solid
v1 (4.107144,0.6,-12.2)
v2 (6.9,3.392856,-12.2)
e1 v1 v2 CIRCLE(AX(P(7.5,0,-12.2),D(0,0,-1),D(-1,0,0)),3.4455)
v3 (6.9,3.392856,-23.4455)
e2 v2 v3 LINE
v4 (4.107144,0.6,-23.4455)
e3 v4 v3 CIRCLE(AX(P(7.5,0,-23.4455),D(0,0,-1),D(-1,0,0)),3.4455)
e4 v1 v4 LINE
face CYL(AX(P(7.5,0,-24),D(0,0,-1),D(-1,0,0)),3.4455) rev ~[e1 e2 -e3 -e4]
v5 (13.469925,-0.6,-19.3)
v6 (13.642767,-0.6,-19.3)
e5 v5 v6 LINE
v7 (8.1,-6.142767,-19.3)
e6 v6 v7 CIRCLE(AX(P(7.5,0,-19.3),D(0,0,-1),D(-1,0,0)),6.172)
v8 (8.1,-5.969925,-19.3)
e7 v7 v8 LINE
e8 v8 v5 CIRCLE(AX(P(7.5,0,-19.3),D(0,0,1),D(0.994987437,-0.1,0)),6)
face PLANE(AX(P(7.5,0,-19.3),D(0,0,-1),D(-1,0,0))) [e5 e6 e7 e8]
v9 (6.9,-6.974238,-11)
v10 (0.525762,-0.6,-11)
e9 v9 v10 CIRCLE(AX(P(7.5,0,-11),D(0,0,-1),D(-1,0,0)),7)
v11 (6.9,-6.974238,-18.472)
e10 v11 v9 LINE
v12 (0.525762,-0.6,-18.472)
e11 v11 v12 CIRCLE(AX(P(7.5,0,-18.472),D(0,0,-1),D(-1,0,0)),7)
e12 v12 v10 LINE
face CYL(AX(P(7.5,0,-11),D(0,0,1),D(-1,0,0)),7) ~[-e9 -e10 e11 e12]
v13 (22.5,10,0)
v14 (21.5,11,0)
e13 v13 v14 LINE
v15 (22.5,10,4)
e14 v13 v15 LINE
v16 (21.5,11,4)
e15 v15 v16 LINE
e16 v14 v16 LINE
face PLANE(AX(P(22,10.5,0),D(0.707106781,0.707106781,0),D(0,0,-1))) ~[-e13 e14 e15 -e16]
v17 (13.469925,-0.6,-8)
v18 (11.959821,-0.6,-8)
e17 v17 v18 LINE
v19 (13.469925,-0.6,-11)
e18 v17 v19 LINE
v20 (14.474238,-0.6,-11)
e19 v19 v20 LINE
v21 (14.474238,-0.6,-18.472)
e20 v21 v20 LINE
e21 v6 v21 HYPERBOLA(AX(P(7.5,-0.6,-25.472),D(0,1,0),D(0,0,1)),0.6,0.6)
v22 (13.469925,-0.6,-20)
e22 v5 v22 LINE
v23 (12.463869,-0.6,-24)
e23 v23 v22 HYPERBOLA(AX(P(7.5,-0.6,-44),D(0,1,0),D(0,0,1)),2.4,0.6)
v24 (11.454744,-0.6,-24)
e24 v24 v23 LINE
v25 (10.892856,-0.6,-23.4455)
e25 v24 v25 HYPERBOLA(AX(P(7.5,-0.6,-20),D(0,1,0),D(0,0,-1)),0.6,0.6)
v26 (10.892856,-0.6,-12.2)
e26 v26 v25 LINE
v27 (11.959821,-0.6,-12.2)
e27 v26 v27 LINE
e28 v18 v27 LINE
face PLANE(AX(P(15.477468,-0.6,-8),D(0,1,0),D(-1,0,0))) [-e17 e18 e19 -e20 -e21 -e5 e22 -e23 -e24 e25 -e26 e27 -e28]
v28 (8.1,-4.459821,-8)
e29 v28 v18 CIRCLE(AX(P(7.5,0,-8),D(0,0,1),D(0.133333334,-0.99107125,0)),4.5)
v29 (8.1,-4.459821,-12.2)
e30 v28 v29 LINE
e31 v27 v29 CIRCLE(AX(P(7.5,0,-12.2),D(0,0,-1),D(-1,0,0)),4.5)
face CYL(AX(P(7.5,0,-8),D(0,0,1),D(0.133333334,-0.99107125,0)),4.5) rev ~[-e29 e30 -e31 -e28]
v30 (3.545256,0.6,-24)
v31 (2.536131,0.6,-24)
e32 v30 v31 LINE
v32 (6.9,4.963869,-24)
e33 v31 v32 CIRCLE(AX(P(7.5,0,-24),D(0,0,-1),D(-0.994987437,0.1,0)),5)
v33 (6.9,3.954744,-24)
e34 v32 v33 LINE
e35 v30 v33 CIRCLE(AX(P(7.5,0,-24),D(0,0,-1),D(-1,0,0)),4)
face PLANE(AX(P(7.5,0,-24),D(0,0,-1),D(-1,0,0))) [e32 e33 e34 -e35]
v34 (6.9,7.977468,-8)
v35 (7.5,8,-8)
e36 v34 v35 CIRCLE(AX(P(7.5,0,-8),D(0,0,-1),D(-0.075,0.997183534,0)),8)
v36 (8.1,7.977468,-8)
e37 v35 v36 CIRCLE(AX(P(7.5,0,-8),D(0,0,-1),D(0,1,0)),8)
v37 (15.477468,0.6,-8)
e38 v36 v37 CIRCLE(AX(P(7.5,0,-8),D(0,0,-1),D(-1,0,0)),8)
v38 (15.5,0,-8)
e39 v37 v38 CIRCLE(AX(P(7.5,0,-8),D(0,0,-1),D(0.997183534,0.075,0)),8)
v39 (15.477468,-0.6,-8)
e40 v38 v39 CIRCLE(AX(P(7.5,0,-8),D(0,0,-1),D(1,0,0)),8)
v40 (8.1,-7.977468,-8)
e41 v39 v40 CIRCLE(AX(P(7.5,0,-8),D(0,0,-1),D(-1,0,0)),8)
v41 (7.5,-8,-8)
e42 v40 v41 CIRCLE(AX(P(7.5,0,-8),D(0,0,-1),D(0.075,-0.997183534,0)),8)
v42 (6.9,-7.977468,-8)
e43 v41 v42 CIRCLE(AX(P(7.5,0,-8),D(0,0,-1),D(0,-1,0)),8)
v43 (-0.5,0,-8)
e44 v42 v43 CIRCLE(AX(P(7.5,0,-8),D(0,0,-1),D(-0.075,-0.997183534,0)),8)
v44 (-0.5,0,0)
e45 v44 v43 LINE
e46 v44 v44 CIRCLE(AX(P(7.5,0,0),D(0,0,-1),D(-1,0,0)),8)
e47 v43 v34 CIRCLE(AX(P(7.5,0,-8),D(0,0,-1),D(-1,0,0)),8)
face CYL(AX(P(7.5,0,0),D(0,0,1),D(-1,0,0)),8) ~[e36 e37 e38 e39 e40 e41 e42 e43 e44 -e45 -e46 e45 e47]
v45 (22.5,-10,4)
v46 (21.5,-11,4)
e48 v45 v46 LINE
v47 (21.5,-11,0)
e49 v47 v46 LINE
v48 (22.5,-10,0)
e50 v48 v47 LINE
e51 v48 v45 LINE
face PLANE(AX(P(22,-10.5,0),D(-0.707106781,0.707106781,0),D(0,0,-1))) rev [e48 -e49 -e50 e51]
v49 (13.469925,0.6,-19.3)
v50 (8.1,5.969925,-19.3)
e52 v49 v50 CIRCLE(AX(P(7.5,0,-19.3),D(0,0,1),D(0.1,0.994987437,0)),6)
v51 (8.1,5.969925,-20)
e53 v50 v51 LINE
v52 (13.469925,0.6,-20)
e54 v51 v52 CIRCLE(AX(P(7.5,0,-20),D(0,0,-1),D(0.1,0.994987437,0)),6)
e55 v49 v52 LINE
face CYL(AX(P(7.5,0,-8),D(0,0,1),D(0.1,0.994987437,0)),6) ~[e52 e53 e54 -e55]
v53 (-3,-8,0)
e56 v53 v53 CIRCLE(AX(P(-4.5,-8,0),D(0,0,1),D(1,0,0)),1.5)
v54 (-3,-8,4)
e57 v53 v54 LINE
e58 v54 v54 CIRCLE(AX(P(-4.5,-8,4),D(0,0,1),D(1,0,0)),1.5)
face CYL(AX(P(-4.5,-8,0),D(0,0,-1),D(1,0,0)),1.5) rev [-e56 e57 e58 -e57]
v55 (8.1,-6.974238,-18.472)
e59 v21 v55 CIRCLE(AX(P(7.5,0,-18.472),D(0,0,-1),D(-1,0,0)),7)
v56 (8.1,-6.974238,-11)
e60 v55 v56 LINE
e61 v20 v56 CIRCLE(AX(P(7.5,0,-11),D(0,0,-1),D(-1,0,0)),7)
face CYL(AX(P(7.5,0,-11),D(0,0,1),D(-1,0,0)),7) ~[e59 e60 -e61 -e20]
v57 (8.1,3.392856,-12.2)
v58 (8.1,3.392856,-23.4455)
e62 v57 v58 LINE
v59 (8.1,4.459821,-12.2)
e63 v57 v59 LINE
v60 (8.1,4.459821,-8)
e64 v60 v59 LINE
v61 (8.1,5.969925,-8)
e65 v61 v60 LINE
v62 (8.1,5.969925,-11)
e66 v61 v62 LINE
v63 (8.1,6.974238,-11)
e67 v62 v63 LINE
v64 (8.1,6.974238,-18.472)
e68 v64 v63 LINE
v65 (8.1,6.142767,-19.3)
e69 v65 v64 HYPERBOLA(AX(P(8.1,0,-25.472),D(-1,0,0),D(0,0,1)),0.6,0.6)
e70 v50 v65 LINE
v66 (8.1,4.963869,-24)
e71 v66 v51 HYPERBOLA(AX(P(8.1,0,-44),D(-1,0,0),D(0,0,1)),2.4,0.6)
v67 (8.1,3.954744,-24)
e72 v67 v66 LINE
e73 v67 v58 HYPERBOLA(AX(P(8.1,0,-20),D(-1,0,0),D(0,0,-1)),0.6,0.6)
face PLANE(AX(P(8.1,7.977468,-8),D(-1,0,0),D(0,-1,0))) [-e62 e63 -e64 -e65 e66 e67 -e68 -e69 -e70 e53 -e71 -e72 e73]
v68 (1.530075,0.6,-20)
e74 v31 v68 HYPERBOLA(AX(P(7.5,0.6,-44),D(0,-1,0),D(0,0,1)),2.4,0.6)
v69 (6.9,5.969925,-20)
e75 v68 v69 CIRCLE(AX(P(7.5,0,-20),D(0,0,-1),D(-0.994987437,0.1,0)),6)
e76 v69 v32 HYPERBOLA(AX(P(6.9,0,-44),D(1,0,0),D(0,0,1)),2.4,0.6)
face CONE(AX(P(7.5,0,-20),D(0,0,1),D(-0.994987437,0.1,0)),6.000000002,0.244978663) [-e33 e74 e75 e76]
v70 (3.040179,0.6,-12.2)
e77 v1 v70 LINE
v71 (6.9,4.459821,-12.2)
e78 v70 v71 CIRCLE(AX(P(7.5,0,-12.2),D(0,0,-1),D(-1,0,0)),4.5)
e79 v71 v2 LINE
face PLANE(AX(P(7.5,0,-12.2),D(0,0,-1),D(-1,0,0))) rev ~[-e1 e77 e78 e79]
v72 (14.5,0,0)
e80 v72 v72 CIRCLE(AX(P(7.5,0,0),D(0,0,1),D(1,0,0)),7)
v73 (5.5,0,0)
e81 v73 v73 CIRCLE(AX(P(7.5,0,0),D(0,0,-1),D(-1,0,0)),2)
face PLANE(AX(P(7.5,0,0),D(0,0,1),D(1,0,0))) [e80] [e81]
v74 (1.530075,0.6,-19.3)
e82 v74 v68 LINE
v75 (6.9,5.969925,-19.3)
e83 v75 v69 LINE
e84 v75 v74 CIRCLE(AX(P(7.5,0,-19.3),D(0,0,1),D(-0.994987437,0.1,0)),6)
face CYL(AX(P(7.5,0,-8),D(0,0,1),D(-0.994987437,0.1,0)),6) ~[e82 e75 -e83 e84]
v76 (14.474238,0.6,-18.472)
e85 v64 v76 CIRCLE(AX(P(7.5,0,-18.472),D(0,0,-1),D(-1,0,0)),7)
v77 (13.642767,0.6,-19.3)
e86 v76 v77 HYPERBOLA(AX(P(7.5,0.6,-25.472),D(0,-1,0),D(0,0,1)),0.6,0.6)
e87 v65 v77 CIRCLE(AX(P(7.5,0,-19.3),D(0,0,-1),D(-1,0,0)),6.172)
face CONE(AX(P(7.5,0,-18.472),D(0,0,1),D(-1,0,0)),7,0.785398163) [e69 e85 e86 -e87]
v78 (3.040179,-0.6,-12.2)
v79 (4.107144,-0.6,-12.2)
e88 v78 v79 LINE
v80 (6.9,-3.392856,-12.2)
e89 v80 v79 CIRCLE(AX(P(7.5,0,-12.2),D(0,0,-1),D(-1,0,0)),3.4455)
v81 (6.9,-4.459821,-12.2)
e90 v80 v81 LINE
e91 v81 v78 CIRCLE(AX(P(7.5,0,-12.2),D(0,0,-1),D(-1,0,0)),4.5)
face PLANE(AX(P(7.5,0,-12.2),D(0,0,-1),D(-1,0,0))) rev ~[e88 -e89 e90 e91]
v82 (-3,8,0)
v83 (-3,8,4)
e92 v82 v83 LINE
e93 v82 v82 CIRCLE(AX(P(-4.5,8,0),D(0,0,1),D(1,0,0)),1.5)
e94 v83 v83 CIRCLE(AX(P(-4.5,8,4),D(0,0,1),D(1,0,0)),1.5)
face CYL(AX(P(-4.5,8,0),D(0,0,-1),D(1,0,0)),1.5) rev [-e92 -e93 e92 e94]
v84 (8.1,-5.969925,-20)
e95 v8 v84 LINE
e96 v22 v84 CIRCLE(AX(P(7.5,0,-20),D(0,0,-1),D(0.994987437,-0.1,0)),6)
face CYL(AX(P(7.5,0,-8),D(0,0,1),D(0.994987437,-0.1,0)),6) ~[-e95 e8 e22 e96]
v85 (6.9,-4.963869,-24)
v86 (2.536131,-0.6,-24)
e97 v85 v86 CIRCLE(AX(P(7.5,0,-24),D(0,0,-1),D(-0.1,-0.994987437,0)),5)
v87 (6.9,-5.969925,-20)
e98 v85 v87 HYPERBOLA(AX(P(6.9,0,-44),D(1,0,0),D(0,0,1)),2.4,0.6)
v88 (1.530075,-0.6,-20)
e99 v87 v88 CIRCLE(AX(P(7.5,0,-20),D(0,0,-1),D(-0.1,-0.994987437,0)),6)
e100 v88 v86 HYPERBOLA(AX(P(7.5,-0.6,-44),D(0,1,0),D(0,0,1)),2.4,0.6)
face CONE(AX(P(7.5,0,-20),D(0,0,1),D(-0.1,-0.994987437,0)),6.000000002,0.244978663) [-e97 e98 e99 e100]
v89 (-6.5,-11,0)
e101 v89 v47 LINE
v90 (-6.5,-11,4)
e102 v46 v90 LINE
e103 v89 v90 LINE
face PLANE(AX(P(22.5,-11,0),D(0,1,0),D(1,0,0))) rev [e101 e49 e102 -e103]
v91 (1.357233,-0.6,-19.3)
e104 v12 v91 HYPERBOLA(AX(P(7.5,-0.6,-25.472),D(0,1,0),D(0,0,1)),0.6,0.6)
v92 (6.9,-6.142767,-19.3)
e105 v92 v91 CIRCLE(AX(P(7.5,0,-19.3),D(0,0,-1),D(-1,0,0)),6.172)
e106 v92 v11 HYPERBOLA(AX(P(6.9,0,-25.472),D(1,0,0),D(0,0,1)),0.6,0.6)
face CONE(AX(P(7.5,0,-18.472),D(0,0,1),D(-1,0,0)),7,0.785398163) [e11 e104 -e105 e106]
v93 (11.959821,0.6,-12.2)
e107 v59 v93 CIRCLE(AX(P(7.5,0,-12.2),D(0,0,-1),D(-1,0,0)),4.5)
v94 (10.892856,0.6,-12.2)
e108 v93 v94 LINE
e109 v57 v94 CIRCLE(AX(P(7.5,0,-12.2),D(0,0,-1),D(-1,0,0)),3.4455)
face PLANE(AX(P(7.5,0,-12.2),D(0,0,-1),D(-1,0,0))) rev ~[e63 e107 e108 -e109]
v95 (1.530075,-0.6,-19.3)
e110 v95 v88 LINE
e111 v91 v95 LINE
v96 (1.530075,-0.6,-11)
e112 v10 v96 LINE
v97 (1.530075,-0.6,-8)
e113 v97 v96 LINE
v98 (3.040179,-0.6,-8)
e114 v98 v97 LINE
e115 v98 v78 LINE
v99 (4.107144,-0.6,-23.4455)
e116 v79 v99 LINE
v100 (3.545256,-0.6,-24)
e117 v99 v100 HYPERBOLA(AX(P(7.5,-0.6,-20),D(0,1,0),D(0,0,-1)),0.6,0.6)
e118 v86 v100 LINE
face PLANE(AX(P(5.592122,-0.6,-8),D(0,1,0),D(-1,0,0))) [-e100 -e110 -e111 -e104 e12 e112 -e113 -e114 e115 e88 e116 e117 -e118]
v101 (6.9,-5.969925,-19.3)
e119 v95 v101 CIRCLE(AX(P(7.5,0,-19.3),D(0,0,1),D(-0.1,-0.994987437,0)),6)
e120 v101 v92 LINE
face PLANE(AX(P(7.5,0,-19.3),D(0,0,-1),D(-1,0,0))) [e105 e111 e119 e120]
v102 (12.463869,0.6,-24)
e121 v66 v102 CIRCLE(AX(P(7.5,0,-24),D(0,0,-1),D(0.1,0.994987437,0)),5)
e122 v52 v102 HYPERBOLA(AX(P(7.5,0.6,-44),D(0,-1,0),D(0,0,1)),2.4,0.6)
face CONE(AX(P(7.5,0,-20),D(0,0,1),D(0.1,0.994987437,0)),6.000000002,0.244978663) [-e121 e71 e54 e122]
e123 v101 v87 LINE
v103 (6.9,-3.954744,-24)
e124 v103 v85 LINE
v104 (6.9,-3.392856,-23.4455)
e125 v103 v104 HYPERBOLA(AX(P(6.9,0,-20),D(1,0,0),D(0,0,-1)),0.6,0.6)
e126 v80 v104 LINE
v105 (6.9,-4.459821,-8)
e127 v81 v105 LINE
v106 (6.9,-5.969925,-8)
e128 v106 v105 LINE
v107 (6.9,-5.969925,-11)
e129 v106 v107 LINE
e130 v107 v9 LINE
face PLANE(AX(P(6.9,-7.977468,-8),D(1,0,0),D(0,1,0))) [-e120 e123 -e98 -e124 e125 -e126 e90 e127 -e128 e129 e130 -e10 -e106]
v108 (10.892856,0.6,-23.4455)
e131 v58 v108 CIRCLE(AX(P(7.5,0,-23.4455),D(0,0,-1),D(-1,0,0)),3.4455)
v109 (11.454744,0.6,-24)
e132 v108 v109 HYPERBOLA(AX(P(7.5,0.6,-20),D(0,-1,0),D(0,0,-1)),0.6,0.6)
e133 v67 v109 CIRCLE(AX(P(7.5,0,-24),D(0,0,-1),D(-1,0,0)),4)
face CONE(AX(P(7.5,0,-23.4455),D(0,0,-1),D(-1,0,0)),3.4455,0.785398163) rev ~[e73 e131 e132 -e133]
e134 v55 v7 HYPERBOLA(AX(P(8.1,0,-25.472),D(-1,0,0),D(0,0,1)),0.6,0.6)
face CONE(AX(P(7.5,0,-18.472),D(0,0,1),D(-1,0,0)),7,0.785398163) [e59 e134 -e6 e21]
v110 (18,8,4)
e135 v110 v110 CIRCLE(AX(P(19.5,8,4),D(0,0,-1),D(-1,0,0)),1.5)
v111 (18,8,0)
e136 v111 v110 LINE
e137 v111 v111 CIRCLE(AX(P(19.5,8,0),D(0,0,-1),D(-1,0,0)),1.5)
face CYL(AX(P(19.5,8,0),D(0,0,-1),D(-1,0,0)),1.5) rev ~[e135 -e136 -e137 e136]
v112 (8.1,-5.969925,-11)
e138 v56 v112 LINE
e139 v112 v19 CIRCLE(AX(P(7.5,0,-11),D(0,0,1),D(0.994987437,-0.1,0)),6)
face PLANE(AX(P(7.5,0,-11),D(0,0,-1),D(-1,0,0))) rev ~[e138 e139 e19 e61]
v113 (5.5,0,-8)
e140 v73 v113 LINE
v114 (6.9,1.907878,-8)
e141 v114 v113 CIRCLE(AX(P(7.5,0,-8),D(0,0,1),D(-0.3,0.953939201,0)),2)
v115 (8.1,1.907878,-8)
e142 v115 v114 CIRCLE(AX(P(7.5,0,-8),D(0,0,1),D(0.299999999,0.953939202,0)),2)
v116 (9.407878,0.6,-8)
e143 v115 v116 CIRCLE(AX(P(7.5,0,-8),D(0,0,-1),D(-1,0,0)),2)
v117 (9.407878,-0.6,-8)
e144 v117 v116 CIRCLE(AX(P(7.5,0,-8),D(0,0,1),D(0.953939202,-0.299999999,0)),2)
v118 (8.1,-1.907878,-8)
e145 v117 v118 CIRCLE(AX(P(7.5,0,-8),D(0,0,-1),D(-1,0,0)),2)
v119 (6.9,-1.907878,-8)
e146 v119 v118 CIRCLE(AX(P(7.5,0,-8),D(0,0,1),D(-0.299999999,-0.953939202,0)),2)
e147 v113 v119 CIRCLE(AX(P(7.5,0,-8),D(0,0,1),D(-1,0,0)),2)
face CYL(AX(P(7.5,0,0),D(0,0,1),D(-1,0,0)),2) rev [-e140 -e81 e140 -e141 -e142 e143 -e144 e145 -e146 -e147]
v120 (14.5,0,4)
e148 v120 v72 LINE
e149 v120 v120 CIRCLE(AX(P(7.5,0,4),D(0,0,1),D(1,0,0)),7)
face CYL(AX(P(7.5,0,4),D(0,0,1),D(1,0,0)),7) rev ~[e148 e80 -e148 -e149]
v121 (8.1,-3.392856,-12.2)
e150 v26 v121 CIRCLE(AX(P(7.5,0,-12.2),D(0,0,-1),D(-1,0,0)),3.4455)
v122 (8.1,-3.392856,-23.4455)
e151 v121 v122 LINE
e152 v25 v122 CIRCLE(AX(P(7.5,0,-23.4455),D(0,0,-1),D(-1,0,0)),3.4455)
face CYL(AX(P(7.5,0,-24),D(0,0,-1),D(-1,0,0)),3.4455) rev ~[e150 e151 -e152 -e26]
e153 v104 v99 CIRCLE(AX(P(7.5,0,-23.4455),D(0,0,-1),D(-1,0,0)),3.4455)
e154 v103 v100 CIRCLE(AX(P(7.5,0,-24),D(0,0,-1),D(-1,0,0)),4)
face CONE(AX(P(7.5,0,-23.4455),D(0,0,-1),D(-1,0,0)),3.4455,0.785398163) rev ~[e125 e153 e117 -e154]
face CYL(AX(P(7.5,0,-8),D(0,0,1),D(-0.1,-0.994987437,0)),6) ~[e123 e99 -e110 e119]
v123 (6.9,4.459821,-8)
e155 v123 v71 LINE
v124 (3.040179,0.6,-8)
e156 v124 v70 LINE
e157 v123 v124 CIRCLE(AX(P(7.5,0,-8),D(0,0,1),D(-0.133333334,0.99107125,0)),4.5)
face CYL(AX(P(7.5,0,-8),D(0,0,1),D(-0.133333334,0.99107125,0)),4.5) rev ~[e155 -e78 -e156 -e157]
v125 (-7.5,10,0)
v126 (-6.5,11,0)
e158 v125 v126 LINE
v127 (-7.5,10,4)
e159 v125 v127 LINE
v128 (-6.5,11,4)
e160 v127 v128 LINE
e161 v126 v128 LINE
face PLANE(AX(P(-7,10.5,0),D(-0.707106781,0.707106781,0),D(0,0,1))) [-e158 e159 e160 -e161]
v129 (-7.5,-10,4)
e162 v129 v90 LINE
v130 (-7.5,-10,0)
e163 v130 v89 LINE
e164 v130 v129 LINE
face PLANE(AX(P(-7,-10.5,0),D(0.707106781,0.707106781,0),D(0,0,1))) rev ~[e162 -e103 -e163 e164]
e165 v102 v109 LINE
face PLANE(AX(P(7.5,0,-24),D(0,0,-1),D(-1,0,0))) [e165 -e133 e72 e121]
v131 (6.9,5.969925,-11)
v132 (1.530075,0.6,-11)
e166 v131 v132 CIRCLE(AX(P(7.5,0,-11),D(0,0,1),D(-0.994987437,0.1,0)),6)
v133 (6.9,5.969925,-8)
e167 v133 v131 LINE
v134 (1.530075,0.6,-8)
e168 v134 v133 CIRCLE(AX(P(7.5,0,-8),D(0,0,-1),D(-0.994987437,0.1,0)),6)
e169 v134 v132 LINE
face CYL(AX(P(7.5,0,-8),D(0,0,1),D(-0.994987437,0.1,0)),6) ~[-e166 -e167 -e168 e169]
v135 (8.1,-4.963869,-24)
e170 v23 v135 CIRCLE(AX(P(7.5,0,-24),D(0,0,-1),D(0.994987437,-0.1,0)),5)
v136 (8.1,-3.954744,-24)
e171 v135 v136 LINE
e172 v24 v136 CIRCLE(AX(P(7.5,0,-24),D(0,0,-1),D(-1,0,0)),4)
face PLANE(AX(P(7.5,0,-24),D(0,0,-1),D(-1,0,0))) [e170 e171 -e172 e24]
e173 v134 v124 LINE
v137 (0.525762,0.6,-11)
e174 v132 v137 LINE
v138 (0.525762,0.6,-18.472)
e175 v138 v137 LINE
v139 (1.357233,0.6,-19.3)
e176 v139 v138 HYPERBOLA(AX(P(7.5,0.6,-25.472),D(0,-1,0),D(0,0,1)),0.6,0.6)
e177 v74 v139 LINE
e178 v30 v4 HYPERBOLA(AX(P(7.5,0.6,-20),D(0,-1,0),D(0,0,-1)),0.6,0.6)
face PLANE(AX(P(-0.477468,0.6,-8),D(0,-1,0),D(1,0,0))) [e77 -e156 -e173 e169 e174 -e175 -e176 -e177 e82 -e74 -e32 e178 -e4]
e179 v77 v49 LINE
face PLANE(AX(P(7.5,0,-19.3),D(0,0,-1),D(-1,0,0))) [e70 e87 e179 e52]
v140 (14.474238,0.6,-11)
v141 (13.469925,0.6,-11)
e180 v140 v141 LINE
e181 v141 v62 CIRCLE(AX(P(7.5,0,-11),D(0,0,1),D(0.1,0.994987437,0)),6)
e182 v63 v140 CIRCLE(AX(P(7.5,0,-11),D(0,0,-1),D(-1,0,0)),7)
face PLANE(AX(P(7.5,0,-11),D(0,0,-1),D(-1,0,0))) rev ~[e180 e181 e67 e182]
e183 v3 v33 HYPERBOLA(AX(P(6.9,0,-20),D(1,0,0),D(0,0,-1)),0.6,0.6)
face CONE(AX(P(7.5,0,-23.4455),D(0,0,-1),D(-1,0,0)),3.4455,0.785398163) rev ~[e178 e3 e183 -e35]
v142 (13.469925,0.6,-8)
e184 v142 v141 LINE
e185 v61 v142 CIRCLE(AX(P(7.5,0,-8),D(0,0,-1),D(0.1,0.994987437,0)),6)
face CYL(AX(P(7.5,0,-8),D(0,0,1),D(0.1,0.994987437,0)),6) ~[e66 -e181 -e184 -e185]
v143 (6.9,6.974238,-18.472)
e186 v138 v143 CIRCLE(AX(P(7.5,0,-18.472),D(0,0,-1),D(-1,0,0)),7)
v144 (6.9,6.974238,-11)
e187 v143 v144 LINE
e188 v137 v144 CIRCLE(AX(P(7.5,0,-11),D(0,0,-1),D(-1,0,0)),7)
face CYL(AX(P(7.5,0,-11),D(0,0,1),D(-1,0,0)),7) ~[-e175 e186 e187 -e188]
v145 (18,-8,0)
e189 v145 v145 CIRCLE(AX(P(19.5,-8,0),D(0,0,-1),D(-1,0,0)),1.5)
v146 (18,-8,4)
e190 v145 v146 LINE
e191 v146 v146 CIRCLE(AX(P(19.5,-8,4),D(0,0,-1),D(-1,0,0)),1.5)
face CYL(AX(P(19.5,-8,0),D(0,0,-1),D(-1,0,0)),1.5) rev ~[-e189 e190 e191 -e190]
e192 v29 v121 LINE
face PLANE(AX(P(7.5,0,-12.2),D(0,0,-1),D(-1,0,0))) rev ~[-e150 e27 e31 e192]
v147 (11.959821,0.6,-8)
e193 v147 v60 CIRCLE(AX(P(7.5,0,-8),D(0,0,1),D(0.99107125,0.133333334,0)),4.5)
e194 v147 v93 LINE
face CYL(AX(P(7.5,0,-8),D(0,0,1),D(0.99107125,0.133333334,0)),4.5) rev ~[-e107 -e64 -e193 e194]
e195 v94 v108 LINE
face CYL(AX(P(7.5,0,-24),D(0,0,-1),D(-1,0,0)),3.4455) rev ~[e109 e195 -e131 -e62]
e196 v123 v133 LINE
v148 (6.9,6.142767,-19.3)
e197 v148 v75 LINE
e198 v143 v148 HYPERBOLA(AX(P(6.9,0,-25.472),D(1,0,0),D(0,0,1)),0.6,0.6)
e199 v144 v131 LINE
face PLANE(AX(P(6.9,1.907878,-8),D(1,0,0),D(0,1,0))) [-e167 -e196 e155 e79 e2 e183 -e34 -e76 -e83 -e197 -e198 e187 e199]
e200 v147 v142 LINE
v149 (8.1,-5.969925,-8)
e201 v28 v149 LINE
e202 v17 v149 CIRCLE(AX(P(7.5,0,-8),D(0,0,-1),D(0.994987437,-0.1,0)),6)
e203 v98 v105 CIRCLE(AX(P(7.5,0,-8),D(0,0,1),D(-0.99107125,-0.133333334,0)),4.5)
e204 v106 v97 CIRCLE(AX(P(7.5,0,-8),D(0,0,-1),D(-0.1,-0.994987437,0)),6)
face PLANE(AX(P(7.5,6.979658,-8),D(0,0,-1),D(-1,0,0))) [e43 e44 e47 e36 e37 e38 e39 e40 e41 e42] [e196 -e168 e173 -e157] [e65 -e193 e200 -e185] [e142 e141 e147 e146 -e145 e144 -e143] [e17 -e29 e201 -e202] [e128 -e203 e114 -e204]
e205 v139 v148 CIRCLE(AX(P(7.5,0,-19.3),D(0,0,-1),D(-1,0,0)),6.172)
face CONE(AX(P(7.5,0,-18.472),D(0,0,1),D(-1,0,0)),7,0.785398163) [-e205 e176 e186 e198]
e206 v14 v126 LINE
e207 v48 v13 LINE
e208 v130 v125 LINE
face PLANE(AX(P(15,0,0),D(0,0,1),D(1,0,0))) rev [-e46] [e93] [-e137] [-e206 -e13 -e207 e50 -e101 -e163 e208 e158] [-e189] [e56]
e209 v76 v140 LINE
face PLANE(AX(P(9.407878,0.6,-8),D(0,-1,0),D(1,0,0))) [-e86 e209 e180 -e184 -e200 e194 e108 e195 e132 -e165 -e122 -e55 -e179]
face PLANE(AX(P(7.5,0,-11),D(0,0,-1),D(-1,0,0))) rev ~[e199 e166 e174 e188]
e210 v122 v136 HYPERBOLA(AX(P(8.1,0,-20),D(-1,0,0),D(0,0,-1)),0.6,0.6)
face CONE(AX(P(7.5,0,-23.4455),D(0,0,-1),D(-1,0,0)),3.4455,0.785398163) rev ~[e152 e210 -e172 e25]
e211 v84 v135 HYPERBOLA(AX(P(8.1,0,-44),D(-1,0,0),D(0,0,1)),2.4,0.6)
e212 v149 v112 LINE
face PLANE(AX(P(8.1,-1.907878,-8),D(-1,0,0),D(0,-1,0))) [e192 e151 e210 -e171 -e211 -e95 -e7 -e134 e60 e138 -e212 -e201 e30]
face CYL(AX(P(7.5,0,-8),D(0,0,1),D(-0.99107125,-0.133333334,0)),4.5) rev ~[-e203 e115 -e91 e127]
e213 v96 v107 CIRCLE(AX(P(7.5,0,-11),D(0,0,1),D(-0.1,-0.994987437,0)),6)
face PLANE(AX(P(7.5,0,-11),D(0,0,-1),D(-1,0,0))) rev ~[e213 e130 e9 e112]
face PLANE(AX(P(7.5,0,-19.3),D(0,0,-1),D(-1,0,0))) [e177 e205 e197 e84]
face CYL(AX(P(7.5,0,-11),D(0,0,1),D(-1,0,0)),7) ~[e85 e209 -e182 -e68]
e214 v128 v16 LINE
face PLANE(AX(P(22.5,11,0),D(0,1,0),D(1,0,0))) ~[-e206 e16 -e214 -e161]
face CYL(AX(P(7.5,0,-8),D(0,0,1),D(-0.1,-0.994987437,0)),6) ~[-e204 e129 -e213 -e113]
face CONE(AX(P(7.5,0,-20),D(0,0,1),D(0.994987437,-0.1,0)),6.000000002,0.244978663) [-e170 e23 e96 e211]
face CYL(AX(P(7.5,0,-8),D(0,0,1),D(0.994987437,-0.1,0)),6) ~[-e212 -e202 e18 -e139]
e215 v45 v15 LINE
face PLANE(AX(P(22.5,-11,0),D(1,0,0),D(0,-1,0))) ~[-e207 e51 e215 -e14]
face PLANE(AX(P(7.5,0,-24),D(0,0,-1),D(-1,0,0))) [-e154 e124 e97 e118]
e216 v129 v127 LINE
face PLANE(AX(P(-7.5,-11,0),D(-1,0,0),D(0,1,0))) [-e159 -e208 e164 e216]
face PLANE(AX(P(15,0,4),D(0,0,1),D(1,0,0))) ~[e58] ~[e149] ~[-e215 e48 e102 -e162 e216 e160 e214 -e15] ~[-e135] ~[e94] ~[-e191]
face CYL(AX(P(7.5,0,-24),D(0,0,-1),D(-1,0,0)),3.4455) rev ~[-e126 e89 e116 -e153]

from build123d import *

# Parameters (mm, degrees)
SKETCH_1_W                 = 15
SKETCH_1_H                 = 22
SKETCH_1_R                 = 1.5
EXTRUDE_1_DEPTH            = 4
CHAMFER_1_SIZE             = 1
CHAMFER_1_OF_MIRROR_1_SIZE = 1
SKETCH_2_R                 = 2
CUT_EXTRUDE_1_DEPTH        = 5
SKETCH_3_R                 = 8
SKETCH_3_R_2               = 2
EXTRUDE_2_DEPTH            = 8
EXTRUDE_3_DEPTH            = 16
CHAMFER_2_SIZE             = 4
CHAMFER_2_SIZE2            = 1
EXTRUDE_START              = 3
SKETCH_5_R                 = 7
SKETCH_5_R_2               = 4.5
EXTRUDE_4_DEPTH            = 8.3
CHAMFER_3_SIZE             = 0.828
SKETCH_6_R                 = 4.5
SKETCH_6_R_2               = 3.4455
EXTRUDE_5_DEPTH            = 11.8
CHAMFER_4_SIZE             = 0.5545
CUT_EXTRUDE_3_DEPTH        = 17
SKETCH_7_R                 = 7
CUT_EXTRUDE_4_DEPTH        = 4


with BuildPart() as part:
    # Эскиз1 → Бобышка-Вытянуть1 (new body)
    with BuildSketch(Plane.XY):
        Rectangle(SKETCH_1_W, SKETCH_1_H)
        with Locations((-4.5, 8)):
            Circle(SKETCH_1_R, mode=Mode.SUBTRACT)
        with Locations((-4.5, -8)):
            Circle(SKETCH_1_R, mode=Mode.SUBTRACT)
    extrude_1 = extrude(amount=EXTRUDE_1_DEPTH)

    # Фаска1
    chamfer_1_edges = [part.edges().sort_by_distance(p)[0] for p in [
        (-7.5, -11, 2),
        (-7.5, 11, 2),
    ]]
    chamfer(chamfer_1_edges, length=CHAMFER_1_SIZE)

    # Зеркальное отражение1: Бобышка-Вытянуть1 across plane
    add(extrude_1.mirror(Plane(origin=(7.5, -11, 4), x_dir=(0, 0, 1), z_dir=(-1, 0, 0))))

    # Фаска1 of Зеркальное отражение1
    chamfer_1_of_mirror_1_edges = [part.edges().sort_by_distance(p)[0] for p in [
        (22.5, -11, 2),
        (22.5, 11, 2),
    ]]
    chamfer(chamfer_1_of_mirror_1_edges, length=CHAMFER_1_OF_MIRROR_1_SIZE)

    # Эскиз2 → Вырез-Вытянуть1 (cut, through all)
    with BuildSketch(Plane(origin=(0, 0, 0), x_dir=(-1, 0, 0), z_dir=(0, 0, -1))):
        with Locations((-7.5, 0)):
            Circle(SKETCH_2_R)
    extrude(amount=-CUT_EXTRUDE_1_DEPTH, mode=Mode.SUBTRACT)

    # Эскиз3 → Бобышка-Вытянуть2 (add)
    with BuildSketch(Plane(origin=(0, 0, 0), x_dir=(-1, 0, 0), z_dir=(0, 0, -1))):
        with Locations((-7.5, 0)):
            Circle(SKETCH_3_R)
        with Locations((-7.5, 0)):
            Circle(SKETCH_3_R_2, mode=Mode.SUBTRACT)
    extrude(amount=EXTRUDE_2_DEPTH)

    # Эскиз4 → Бобышка-Вытянуть3 (add)
    with BuildSketch(Plane(origin=(0, 0, -8), x_dir=(-1, 0, 0), z_dir=(0, 0, -1))):
        with BuildLine():
            Line((-8.1, 4.459820624), (-8.1, 5.969924623))
            ThreePointArc((-8.1, 5.969924623), (-11.742640687, 4.242640687), (-13.469924623, 0.6))
            Line((-13.469924623, 0.6), (-11.959820624, 0.6))
            ThreePointArc((-11.959820624, 0.6), (-10.681980515, 3.181980515), (-8.1, 4.459820624))
        make_face()
        with BuildLine():
            Line((-6.9, 4.459820624), (-6.9, 5.969924623))
            ThreePointArc((-6.9, 5.969924623), (-7.5, 6), (-8.1, 5.969924623))
            Line((-8.1, 5.969924623), (-8.1, 4.459820624))
            ThreePointArc((-8.1, 4.459820624), (-7.5, 4.5), (-6.9, 4.459820624))
        make_face()
        with BuildLine():
            ThreePointArc((-8.1, -5.969924623), (-7.5, -6), (-6.9, -5.969924623))
            Line((-6.9, -5.969924623), (-6.9, -4.459820624))
            ThreePointArc((-6.9, -4.459820624), (-7.5, -4.5), (-8.1, -4.459820624))
            Line((-8.1, -4.459820624), (-8.1, -5.969924623))
        make_face()
        with BuildLine():
            Line((-3.040179376, 0.6), (-1.530075377, 0.6))
            ThreePointArc((-1.530075377, 0.6), (-3.257359313, 4.242640687), (-6.9, 5.969924623))
            Line((-6.9, 5.969924623), (-6.9, 4.459820624))
            ThreePointArc((-6.9, 4.459820624), (-4.318019485, 3.181980515), (-3.040179376, 0.6))
        make_face()
        with BuildLine():
            ThreePointArc((-1.5, 0), (-1.507523561, 0.30037665), (-1.530075377, 0.6))
            Line((-1.530075377, 0.6), (-3.040179376, 0.6))
            ThreePointArc((-3.040179376, 0.6), (-3.01005608, 0.300671907), (-3, 0))
            ThreePointArc((-3, 0), (-3.01005608, -0.300671907), (-3.040179376, -0.6))
            Line((-3.040179376, -0.6), (-1.530075377, -0.6))
            ThreePointArc((-1.530075377, -0.6), (-1.507523561, -0.30037665), (-1.5, 0))
        make_face()
        with BuildLine():
            Line((-11.959820624, 0.6), (-13.469924623, 0.6))
            ThreePointArc((-13.469924623, 0.6), (-13.5, 0), (-13.469924623, -0.6))
            Line((-13.469924623, -0.6), (-11.959820624, -0.6))
            ThreePointArc((-11.959820624, -0.6), (-12, 0), (-11.959820624, 0.6))
        make_face()
        with BuildLine():
            ThreePointArc((-6.9, -5.969924623), (-3.257359313, -4.242640687), (-1.530075377, -0.6))
            Line((-1.530075377, -0.6), (-3.040179376, -0.6))
            ThreePointArc((-3.040179376, -0.6), (-4.318019485, -3.181980515), (-6.9, -4.459820624))
            Line((-6.9, -4.459820624), (-6.9, -5.969924623))
        make_face()
        with BuildLine():
            ThreePointArc((-13.469924623, -0.6), (-11.742640687, -4.242640687), (-8.1, -5.969924623))
            Line((-8.1, -5.969924623), (-8.1, -4.459820624))
            ThreePointArc((-8.1, -4.459820624), (-10.681980515, -3.181980515), (-11.959820624, -0.6))
            Line((-11.959820624, -0.6), (-13.469924623, -0.6))
        make_face()
    extrude(amount=EXTRUDE_3_DEPTH)

    # Фаска2
    chamfer_2_edges = [part.edges().sort_by_distance(p)[0] for p in [
        (2.854361747, 3.797110115, -24),
    ]]
    chamfer_2_side = [part.faces().sort_by_distance(p)[0] for p in [
        (2.854361747, 3.797110115, -16),
    ]]
    chamfer(chamfer_2_edges, length=CHAMFER_2_SIZE, length2=CHAMFER_2_SIZE2, reference=chamfer_2_side[0])

    # Эскиз5 → Бобышка-Вытянуть4 (add)
    with BuildSketch(Plane(origin=(0, 0, -8), x_dir=(-1, 0, 0), z_dir=(0, 0, -1)).offset(EXTRUDE_START)):
        with Locations((-7.5, 0)):
            Circle(SKETCH_5_R)
        with Locations((-7.5, 0)):
            Circle(SKETCH_5_R_2, mode=Mode.SUBTRACT)
    extrude(amount=EXTRUDE_4_DEPTH)

    # Фаска3
    chamfer_3_edges = [part.edges().sort_by_distance(p)[0] for p in [
        (14.5, 0, -19.3),
    ]]
    chamfer(chamfer_3_edges, length=CHAMFER_3_SIZE)

    # Эскиз6 → Бобышка-Вытянуть5 (add)
    with BuildSketch(Plane(origin=(0, 0, -24), x_dir=(-1, 0, 0), z_dir=(0, 0, -1))):
        with Locations((-7.5, 0)):
            Circle(SKETCH_6_R)
        with Locations((-7.5, 0)):
            Circle(SKETCH_6_R_2, mode=Mode.SUBTRACT)
    extrude(amount=-EXTRUDE_5_DEPTH)

    # Фаска4
    chamfer_4_edges = [part.edges().sort_by_distance(p)[0] for p in [
        (10.9455, 0, -24),
    ]]
    chamfer(chamfer_4_edges, length=CHAMFER_4_SIZE)

    # Эскиз4<4> → Вырез-Вытянуть3 (cut, through all)
    with BuildSketch(Plane(origin=(0, 0, -8), x_dir=(-1, 0, 0), z_dir=(0, 0, -1))):
        with BuildLine():
            Line((-6.9, 5.969924623), (-6.9, 7.97746827))
            ThreePointArc((-6.9, 7.97746827), (-7.199788542, 7.994365083), (-7.5, 8))
            ThreePointArc((-7.5, 8), (-7.800211458, 7.994365083), (-8.1, 7.97746827))
            Line((-8.1, 7.97746827), (-8.1, 5.969924623))
            ThreePointArc((-8.1, 5.969924623), (-7.5, 6), (-6.9, 5.969924623))
        make_face()
        with BuildLine():
            ThreePointArc((-7.5, -8), (-7.199788542, -7.994365083), (-6.9, -7.97746827))
            Line((-6.9, -7.97746827), (-6.9, -5.969924623))
            ThreePointArc((-6.9, -5.969924623), (-7.5, -6), (-8.1, -5.969924623))
            Line((-8.1, -5.969924623), (-8.1, -7.97746827))
            ThreePointArc((-8.1, -7.97746827), (-7.800211458, -7.994365083), (-7.5, -8))
        make_face()
        with BuildLine():
            Line((-6.9, 4.459820624), (-6.9, 5.969924623))
            ThreePointArc((-6.9, 5.969924623), (-7.5, 6), (-8.1, 5.969924623))
            Line((-8.1, 5.969924623), (-8.1, 4.459820624))
            ThreePointArc((-8.1, 4.459820624), (-7.5, 4.5), (-6.9, 4.459820624))
        make_face()
        with BuildLine():
            ThreePointArc((-8.1, -5.969924623), (-7.5, -6), (-6.9, -5.969924623))
            Line((-6.9, -5.969924623), (-6.9, -4.459820624))
            ThreePointArc((-6.9, -4.459820624), (-7.5, -4.5), (-8.1, -4.459820624))
            Line((-8.1, -4.459820624), (-8.1, -5.969924623))
        make_face()
        with BuildLine():
            Line((-6.9, 1.907878403), (-6.9, 4.459820624))
            ThreePointArc((-6.9, 4.459820624), (-7.5, 4.5), (-8.1, 4.459820624))
            Line((-8.1, 4.459820624), (-8.1, 1.907878403))
            ThreePointArc((-8.1, 1.907878403), (-7.5, 2), (-6.9, 1.907878403))
        make_face()
        with BuildLine():
            ThreePointArc((-8.1, -4.459820624), (-7.5, -4.5), (-6.9, -4.459820624))
            Line((-6.9, -4.459820624), (-6.9, -1.907878403))
            ThreePointArc((-6.9, -1.907878403), (-7.5, -2), (-8.1, -1.907878403))
            Line((-8.1, -1.907878403), (-8.1, -4.459820624))
        make_face()
        with BuildLine():
            ThreePointArc((0.5, 0), (0.494365083, 0.300211458), (0.47746827, 0.6))
            Line((0.47746827, 0.6), (-1.530075377, 0.6))
            ThreePointArc((-1.530075377, 0.6), (-1.507523561, 0.30037665), (-1.5, 0))
            ThreePointArc((-1.5, 0), (-1.507523561, -0.30037665), (-1.530075377, -0.6))
            Line((-1.530075377, -0.6), (0.47746827, -0.6))
            ThreePointArc((0.47746827, -0.6), (0.494365083, -0.300211458), (0.5, 0))
        make_face()
        with BuildLine():
            ThreePointArc((-13.469924623, -0.6), (-13.5, 0), (-13.469924623, 0.6))
            Line((-13.469924623, 0.6), (-15.47746827, 0.6))
            ThreePointArc((-15.47746827, 0.6), (-15.494365083, 0.300211458), (-15.5, 0))
            ThreePointArc((-15.5, 0), (-15.494365083, -0.300211458), (-15.47746827, -0.6))
            Line((-15.47746827, -0.6), (-13.469924623, -0.6))
        make_face()
        with BuildLine():
            ThreePointArc((-1.5, 0), (-1.507523561, 0.30037665), (-1.530075377, 0.6))
            Line((-1.530075377, 0.6), (-3.040179376, 0.6))
            ThreePointArc((-3.040179376, 0.6), (-3.01005608, 0.300671907), (-3, 0))
            ThreePointArc((-3, 0), (-3.01005608, -0.300671907), (-3.040179376, -0.6))
            Line((-3.040179376, -0.6), (-1.530075377, -0.6))
            ThreePointArc((-1.530075377, -0.6), (-1.507523561, -0.30037665), (-1.5, 0))
        make_face()
        with BuildLine():
            Line((-11.959820624, 0.6), (-13.469924623, 0.6))
            ThreePointArc((-13.469924623, 0.6), (-13.5, 0), (-13.469924623, -0.6))
            Line((-13.469924623, -0.6), (-11.959820624, -0.6))
            ThreePointArc((-11.959820624, -0.6), (-12, 0), (-11.959820624, 0.6))
        make_face()
        with BuildLine():
            ThreePointArc((-3, 0), (-3.01005608, 0.300671907), (-3.040179376, 0.6))
            Line((-3.040179376, 0.6), (-5.592121597, 0.6))
            ThreePointArc((-5.592121597, 0.6), (-5.523164548, 0.303515399), (-5.5, 0))
            ThreePointArc((-5.5, 0), (-5.523164548, -0.303515399), (-5.592121597, -0.6))
            Line((-5.592121597, -0.6), (-3.040179376, -0.6))
            ThreePointArc((-3.040179376, -0.6), (-3.01005608, -0.300671907), (-3, 0))
        make_face()
        with BuildLine():
            Line((-9.407878403, 0.6), (-11.959820624, 0.6))
            ThreePointArc((-11.959820624, 0.6), (-12, 0), (-11.959820624, -0.6))
            Line((-11.959820624, -0.6), (-9.407878403, -0.6))
            ThreePointArc((-9.407878403, -0.6), (-9.5, 0), (-9.407878403, 0.6))
        make_face()
    extrude(amount=CUT_EXTRUDE_3_DEPTH, mode=Mode.SUBTRACT)

    # Эскиз7 → Вырез-Вытянуть4 (cut)
    with BuildSketch(Plane.XY.offset(4)):
        with Locations((7.5, 0)):
            Circle(SKETCH_7_R)
    extrude(amount=-CUT_EXTRUDE_4_DEPTH, mode=Mode.SUBTRACT)


solid = part.part
